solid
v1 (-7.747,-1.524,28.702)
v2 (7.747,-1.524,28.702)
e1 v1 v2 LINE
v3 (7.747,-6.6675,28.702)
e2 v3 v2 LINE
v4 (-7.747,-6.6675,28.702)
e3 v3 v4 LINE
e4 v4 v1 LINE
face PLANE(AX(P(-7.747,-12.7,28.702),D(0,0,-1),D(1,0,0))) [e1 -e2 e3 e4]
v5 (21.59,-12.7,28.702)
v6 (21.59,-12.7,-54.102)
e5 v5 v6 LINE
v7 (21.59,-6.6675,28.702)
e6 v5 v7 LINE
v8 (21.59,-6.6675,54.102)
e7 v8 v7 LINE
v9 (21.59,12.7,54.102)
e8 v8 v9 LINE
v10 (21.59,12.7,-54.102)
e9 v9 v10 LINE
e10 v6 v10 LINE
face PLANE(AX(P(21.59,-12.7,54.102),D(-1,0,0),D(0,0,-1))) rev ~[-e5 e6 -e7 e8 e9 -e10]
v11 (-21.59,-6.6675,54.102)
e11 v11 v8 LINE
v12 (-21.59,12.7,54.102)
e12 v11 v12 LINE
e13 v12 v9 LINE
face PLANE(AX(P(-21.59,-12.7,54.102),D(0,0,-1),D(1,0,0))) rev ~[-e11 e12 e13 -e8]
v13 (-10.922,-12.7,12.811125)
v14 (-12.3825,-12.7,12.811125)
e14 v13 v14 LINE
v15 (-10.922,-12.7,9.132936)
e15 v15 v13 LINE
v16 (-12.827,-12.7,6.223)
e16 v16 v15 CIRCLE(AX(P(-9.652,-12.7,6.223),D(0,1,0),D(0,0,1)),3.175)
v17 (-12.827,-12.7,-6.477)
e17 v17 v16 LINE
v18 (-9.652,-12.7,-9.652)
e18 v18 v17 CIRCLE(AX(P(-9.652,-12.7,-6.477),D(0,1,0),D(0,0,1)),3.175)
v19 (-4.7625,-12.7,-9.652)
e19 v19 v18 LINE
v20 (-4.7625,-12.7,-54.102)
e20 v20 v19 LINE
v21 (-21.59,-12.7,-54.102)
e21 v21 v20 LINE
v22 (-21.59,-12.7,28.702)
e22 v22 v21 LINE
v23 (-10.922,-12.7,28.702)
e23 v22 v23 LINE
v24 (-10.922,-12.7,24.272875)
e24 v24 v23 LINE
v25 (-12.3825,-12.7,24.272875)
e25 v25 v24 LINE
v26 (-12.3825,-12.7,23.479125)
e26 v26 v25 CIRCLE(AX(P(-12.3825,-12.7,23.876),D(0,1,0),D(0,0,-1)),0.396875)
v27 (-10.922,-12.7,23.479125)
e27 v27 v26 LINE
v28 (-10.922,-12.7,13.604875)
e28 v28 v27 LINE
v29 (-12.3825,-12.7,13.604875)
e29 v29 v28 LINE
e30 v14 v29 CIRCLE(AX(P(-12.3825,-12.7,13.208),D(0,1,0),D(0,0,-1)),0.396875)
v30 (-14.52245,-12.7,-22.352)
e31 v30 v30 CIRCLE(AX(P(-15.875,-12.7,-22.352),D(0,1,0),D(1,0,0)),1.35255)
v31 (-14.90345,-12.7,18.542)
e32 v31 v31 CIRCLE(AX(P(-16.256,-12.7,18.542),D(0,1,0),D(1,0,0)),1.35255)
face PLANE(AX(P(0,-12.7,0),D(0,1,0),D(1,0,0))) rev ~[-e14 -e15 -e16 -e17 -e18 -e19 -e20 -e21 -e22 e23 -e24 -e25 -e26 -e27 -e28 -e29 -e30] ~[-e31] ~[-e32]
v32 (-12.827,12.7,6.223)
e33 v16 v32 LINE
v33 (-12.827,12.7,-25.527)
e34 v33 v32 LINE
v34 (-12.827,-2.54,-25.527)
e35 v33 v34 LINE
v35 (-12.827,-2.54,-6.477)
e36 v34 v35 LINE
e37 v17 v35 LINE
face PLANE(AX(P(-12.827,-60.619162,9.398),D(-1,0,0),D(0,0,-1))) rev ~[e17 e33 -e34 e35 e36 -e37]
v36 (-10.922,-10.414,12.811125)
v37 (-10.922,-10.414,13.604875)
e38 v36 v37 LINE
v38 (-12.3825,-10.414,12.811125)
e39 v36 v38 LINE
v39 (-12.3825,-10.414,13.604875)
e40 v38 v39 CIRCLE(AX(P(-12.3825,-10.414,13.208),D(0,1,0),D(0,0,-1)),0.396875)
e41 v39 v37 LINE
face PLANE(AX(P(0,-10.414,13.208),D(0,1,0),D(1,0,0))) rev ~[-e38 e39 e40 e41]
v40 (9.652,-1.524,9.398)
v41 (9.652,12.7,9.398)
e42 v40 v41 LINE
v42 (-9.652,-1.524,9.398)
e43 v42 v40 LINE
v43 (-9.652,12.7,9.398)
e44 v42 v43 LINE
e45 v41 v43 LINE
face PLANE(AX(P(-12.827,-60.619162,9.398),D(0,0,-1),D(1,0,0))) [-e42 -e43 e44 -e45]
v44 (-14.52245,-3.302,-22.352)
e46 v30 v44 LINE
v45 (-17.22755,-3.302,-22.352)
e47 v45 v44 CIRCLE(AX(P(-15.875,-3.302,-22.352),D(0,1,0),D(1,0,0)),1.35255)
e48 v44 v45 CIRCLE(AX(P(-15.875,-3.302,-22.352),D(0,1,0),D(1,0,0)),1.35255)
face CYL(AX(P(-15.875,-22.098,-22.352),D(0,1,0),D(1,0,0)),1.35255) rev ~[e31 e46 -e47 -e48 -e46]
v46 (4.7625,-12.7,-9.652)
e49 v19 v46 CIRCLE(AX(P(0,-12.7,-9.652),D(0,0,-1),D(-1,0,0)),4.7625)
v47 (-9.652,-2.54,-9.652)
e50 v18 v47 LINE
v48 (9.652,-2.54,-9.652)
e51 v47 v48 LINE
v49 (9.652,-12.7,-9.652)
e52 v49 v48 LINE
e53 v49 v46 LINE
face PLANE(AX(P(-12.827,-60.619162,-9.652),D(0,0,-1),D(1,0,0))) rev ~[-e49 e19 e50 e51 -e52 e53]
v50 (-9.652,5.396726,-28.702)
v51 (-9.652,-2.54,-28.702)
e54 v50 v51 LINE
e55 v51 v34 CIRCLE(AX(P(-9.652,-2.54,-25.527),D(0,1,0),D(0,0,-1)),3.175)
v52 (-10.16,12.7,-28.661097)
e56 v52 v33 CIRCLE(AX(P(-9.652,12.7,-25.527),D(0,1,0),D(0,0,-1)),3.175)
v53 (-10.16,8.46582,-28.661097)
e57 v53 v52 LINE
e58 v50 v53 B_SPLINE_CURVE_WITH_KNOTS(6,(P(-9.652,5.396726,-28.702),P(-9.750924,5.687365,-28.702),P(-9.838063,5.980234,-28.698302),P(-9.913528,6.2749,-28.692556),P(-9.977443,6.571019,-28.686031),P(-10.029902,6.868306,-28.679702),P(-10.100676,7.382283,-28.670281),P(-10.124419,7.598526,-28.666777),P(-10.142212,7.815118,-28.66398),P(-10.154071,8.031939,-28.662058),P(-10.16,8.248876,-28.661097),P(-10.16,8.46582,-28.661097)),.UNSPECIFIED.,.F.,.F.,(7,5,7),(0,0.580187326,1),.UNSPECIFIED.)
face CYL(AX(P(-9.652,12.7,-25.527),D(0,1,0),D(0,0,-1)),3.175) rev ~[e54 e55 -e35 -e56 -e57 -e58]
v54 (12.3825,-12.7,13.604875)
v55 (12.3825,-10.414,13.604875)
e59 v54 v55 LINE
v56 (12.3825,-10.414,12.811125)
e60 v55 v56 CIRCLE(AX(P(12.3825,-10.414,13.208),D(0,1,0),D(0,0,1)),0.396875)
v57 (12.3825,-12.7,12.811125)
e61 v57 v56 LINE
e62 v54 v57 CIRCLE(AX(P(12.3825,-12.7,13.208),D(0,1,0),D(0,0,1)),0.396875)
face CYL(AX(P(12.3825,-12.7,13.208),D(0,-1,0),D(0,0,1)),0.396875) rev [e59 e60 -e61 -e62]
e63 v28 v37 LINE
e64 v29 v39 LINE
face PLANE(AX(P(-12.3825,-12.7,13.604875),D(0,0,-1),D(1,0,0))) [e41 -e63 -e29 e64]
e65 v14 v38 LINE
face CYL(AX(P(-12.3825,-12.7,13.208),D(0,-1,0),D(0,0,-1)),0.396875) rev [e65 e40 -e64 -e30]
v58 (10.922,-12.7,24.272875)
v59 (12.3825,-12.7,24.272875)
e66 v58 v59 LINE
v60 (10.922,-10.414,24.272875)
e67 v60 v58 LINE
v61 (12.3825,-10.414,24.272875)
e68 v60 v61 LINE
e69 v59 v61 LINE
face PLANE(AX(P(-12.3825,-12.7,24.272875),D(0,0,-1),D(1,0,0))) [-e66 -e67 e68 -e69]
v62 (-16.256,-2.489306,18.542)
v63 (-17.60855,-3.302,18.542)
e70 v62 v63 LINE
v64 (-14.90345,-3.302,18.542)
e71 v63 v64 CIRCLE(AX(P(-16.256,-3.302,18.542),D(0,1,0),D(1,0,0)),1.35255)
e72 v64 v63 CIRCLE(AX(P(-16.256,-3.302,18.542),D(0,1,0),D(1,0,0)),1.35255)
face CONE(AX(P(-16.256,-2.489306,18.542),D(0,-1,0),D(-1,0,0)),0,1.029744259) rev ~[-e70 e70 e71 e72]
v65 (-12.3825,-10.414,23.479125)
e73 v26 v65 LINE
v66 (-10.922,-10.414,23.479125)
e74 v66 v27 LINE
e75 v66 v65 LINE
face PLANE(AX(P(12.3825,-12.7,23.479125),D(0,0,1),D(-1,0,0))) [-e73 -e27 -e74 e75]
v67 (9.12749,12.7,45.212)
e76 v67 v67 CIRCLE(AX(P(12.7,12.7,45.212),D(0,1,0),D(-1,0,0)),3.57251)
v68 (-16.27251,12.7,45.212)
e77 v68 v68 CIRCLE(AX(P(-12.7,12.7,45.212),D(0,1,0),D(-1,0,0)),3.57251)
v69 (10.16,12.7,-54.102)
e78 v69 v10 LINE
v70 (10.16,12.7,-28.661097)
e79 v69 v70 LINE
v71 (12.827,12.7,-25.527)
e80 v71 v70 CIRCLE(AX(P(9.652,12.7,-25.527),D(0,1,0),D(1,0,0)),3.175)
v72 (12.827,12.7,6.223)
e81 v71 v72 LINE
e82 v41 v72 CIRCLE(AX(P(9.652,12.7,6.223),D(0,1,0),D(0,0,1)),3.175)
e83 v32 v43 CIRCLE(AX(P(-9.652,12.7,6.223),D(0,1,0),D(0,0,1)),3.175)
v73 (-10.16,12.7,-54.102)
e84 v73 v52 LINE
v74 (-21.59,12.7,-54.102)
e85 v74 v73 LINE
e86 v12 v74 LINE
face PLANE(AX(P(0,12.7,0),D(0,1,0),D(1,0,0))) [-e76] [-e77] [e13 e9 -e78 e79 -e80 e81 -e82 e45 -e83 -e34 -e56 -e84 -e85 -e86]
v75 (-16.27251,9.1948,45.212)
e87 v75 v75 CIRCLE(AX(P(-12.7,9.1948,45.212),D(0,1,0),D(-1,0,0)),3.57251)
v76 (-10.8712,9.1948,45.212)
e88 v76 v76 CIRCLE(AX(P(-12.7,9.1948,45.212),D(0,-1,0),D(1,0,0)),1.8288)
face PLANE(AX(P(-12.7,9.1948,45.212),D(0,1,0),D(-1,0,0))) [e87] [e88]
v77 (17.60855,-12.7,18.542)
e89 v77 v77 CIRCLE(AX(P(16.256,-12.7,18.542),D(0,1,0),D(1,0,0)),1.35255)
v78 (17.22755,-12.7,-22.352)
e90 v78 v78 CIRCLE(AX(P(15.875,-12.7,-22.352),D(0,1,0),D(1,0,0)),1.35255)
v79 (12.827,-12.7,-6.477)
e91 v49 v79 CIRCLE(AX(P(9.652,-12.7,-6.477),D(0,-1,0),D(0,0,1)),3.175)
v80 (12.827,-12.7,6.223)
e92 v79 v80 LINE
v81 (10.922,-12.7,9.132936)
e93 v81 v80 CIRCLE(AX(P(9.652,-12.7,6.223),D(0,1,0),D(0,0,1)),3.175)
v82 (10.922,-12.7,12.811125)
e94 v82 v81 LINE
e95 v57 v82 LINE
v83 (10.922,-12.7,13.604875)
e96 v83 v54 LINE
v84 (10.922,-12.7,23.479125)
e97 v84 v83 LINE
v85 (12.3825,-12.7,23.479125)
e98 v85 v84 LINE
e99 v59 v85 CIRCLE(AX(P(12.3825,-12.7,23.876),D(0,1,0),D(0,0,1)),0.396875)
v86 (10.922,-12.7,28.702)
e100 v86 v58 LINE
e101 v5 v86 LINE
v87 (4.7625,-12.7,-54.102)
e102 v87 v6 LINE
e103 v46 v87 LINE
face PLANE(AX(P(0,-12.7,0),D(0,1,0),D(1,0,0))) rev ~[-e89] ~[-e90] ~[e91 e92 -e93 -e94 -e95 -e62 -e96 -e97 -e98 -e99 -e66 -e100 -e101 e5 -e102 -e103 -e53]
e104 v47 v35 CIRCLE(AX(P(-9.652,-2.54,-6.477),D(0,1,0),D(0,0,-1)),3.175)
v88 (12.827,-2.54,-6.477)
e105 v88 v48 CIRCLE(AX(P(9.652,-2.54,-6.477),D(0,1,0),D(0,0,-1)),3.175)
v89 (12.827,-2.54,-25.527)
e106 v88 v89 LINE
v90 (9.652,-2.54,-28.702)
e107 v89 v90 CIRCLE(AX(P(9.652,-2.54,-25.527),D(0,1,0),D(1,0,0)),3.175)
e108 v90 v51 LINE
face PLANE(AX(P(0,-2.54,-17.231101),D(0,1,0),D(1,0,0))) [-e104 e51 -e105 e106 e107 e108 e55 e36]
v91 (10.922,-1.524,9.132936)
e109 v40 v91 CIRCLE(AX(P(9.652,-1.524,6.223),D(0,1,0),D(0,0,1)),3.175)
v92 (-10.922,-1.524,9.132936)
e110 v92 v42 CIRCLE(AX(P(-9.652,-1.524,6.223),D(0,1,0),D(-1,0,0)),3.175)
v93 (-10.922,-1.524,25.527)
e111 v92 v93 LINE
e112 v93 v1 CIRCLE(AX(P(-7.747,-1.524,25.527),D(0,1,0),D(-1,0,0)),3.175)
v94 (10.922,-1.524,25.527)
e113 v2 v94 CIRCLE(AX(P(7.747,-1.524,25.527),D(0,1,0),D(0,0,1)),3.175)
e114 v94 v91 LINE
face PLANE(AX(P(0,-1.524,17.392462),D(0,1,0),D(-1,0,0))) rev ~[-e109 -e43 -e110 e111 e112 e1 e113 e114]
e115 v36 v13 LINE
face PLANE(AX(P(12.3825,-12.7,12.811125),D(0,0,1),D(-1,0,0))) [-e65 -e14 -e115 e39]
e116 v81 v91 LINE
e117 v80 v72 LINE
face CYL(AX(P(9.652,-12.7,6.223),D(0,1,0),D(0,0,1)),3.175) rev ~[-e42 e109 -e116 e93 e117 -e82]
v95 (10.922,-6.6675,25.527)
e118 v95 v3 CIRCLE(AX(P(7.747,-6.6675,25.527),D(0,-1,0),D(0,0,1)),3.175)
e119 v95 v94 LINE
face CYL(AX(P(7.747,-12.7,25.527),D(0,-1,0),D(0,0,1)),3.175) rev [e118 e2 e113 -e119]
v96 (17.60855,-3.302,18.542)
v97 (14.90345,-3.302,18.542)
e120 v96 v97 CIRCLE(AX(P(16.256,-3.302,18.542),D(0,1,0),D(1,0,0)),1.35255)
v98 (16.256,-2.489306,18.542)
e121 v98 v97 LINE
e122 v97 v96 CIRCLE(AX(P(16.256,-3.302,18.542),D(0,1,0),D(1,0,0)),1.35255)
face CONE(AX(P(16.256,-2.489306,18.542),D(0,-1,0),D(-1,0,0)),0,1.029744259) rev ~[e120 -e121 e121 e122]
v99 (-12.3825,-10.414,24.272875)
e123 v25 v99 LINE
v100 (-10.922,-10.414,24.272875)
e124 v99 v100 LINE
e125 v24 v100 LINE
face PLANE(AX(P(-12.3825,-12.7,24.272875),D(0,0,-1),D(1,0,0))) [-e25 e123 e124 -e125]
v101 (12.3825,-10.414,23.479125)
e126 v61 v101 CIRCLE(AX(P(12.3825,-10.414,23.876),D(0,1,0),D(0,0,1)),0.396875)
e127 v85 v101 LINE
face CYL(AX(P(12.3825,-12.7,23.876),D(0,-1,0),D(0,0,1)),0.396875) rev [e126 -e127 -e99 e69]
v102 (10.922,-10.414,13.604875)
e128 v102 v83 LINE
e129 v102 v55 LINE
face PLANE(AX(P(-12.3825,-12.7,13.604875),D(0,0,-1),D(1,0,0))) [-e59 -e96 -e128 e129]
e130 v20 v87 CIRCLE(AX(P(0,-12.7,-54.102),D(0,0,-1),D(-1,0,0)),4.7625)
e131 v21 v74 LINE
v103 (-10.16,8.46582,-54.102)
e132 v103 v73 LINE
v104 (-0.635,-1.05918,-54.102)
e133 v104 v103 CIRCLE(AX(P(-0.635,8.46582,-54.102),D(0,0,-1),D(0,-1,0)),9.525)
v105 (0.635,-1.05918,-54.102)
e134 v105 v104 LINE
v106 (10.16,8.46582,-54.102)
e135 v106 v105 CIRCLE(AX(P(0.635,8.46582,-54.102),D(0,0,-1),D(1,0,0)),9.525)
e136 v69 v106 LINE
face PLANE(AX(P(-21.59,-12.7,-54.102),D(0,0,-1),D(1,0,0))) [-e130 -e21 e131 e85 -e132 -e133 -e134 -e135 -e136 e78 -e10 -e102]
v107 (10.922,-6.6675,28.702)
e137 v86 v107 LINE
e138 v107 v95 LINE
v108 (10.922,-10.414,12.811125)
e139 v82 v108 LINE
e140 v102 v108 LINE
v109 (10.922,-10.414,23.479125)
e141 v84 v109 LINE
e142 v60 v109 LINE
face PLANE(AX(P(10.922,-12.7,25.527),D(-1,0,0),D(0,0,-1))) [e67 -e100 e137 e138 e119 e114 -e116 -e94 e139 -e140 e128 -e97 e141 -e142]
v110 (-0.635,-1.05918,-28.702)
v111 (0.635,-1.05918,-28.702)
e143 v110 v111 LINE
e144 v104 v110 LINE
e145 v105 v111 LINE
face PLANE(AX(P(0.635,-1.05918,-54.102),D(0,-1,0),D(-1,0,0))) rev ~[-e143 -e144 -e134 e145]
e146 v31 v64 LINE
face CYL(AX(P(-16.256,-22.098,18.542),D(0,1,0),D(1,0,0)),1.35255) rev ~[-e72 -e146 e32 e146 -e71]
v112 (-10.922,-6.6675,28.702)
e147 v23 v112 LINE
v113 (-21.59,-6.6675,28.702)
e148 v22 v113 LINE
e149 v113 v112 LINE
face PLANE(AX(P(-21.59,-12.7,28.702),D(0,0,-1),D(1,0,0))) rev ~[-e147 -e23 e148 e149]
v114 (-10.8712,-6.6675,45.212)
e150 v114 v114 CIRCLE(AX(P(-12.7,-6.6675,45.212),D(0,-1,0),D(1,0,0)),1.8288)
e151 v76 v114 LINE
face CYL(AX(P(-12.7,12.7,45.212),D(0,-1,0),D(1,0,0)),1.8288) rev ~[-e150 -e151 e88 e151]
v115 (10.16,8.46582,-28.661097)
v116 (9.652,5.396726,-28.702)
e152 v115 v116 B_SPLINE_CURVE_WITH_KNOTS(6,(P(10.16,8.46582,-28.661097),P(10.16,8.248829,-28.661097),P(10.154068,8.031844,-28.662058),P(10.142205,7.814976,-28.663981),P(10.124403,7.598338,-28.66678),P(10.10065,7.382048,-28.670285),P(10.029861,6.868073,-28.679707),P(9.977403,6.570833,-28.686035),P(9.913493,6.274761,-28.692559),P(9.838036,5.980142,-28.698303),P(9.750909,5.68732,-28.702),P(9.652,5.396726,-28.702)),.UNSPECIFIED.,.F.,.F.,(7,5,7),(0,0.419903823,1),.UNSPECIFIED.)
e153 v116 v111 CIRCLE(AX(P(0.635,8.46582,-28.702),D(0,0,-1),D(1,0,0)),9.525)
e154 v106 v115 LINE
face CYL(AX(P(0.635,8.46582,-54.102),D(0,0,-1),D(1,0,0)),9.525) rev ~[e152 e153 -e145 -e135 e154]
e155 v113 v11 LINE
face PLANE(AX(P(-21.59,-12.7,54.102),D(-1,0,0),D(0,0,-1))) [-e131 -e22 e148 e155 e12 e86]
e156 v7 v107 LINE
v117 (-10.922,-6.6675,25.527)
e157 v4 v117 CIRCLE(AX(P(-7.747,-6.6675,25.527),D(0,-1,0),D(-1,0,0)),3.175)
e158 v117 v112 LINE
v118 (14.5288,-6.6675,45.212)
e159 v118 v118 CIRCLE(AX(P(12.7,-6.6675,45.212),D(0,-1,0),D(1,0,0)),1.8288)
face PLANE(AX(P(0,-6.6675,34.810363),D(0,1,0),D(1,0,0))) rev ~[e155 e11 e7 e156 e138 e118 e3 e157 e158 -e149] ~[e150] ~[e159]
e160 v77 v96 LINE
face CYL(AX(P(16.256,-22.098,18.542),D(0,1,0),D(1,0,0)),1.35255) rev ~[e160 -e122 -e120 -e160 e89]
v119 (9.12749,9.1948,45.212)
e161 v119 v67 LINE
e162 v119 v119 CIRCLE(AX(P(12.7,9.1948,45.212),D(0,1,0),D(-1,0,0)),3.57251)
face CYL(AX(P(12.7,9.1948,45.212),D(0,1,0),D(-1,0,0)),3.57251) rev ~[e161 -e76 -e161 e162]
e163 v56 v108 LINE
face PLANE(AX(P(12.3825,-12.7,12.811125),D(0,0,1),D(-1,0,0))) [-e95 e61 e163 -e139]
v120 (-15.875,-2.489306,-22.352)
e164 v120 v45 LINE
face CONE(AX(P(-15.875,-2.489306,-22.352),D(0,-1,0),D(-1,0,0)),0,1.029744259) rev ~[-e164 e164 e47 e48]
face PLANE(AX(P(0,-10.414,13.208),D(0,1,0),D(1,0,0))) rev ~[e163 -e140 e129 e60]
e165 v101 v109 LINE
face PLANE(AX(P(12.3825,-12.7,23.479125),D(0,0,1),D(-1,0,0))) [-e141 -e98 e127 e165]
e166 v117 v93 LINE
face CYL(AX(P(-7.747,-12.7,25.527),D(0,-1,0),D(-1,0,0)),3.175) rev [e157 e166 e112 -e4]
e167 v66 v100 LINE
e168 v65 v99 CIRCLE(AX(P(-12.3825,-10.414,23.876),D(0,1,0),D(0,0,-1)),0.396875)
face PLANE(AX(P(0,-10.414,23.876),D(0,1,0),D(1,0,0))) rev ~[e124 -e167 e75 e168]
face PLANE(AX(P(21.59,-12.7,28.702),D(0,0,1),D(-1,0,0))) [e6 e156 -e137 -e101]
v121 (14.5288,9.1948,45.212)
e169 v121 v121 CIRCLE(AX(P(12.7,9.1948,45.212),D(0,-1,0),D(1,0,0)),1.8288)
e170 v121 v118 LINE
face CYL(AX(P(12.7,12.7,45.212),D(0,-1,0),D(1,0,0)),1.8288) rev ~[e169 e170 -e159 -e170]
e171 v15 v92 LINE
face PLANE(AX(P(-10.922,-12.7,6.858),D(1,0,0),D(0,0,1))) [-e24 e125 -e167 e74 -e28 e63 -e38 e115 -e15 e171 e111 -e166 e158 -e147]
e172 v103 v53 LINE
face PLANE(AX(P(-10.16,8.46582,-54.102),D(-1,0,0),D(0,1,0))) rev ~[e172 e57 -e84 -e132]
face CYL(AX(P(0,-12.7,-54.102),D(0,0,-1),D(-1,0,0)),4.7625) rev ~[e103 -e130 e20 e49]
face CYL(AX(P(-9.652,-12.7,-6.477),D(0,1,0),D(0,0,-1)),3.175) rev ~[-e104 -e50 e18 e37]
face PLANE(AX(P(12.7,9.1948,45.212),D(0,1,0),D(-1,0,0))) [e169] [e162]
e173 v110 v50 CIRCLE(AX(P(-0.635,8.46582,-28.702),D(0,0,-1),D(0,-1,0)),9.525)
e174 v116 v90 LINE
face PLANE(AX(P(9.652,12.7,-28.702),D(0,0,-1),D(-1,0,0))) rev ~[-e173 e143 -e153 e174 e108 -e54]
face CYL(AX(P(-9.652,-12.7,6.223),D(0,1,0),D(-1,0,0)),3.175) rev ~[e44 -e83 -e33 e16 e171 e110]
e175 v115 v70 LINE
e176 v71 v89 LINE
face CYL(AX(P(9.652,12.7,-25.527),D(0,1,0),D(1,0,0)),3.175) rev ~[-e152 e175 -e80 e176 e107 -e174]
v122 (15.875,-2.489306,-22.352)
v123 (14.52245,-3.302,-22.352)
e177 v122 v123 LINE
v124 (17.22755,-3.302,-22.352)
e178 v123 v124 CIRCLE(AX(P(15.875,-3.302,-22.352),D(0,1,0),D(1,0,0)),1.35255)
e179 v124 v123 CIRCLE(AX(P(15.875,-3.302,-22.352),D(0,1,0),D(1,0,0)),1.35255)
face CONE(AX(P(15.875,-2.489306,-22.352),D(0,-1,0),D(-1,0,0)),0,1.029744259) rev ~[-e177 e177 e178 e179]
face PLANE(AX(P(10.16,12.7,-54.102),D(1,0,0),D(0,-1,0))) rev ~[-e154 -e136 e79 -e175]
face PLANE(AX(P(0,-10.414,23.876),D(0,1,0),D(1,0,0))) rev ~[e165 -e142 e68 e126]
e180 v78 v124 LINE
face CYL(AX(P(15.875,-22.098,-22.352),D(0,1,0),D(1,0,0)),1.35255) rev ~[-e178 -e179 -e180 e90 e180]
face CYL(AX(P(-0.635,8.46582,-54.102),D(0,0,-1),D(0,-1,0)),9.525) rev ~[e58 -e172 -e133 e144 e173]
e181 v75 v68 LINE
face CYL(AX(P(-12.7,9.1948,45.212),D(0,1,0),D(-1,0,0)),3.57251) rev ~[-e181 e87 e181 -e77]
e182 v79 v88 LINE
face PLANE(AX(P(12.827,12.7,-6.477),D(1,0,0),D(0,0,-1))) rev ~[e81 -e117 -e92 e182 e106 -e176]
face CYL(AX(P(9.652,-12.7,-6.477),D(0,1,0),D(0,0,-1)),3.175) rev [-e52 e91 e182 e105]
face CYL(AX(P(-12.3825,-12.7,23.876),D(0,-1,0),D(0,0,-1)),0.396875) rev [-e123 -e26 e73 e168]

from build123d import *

# Parameters (mm, degrees)
BASE_DEPTH                   = 12.7
BASE_DEPTH_BACK              = 12.7
SKETCH1_W                    = 43.18
SKETCH1_H                    = 108.204
ACTUATORPLANECUT_DEPTH       = 6.0325
CENTERSLOT_DEPTH             = 60.619162222
CENTERSLOT_DEPTH_BACK        = 60.619162222
SKETCH5_W                    = 25.654
SKETCH5_H                    = 19.05
SHAFTGUIDE_REACH             = 113.065
SKETCH2_R                    = 4.7625
CENTERSLOTFILLET_R           = 3.175
GEARBOXPIT_DEPTH             = 11.176
FRONTCUTAWAY_DEPTH           = 15.24
GEARBOXSLOTSH_DEPTH          = 2.286
TOGGLEASSEMHOLES_D           = 2.7051
TOGGLEASSEMHOLES_DEPTH       = 9.398
TOGGLEASSEMHOLES_TIP         = 0.81269403
GEARBOXMOUNTINGHOLES_D       = 2.7051
GEARBOXMOUNTINGHOLES_DEPTH   = 9.398
GEARBOXMOUNTINGHOLES_TIP     = 0.81269403
CAPMOUNTINGHOLES_D           = 3.6576
CAPMOUNTINGHOLES_CBORE_D     = 7.14502
CAPMOUNTINGHOLES_CBORE_DEPTH = 3.5052
ROLLMOTORSLOT_REACH          = 113.065


with BuildPart() as part:
    # Sketch1 → Base (new, two sides: drawn at the far end of the back side and taken through both)
    with BuildSketch(Plane(origin=(0, 0, 0), x_dir=(1, 0, 0), z_dir=(0, 1, 0)).offset(-BASE_DEPTH_BACK)):
        Rectangle(SKETCH1_W, SKETCH1_H)
    extrude(amount=BASE_DEPTH + BASE_DEPTH_BACK)

    # Sketch3 → ActuatorPlaneCut (cut)
    with BuildSketch(Plane(origin=(0, -12.7, 0), x_dir=(-1, 0, 0), z_dir=(0, -1, 0))):
        Polygon((10.922, -28.702), (16.256, -28.702), (21.59, -28.702), (21.59, -54.102), (-21.59, -54.102), (-21.59, -28.702), (-10.922, -28.702), (-10.922, -11.176), (10.922, -11.176), align=None)
    extrude(amount=-ACTUATORPLANECUT_DEPTH, mode=Mode.SUBTRACT)

    # Sketch5 → CenterSlot (cut, two sides: drawn at the far end of the back side and taken through both)
    with BuildSketch(Plane(origin=(0, 0, 0), x_dir=(1, 0, 0), z_dir=(0, 1, 0)).offset(-CENTERSLOT_DEPTH_BACK)):
        with Locations((0, 0.127)):
            Rectangle(SKETCH5_W, SKETCH5_H)
    extrude(amount=CENTERSLOT_DEPTH + CENTERSLOT_DEPTH_BACK, mode=Mode.SUBTRACT)

    # Sketch2 → ShaftGuide (cut, up to next)
    with BuildSketch(Plane(origin=(0, 0, -54.102), x_dir=(-1, 0, 0), z_dir=(0, 0, -1)), mode=Mode.PRIVATE) as shaftguide_sk1:
        with Locations((0, -12.7)):
            Circle(SKETCH2_R)
    shaftguide_tool1 = extrude(shaftguide_sk1.sketch, amount=-SHAFTGUIDE_REACH, mode=Mode.PRIVATE) & part.part
    add(shaftguide_tool1.solids().sort_by_distance((0, -12.7, -54.102))[0], mode=Mode.SUBTRACT)

    # CenterSlotFillet
    centerslotfillet_edges = [part.edges().sort_by_distance(p)[0] for p in [
        (-12.827, 0, -9.652),
        (-12.827, 0, 9.398),
        (12.827, 0, 9.398),
        (12.827, 0, -9.652),
    ]]
    fillet(centerslotfillet_edges, radius=CENTERSLOTFILLET_R)

    # Sketch40 → GearBoxPit (cut)
    with BuildSketch(Plane.XZ.offset(12.7)):
        with BuildLine():
            Line((10.922, 6.858), (-10.922, 6.858))
            Line((-10.922, 6.858), (-10.922, 25.527))
            ThreePointArc((-10.922, 25.527), (-9.99206403, 27.77206403), (-7.747, 28.702))
            Line((-7.747, 28.702), (7.747, 28.702))
            ThreePointArc((7.747, 28.702), (9.99206403, 27.77206403), (10.922, 25.527))
            Line((10.922, 25.527), (10.922, 6.858))
        make_face()
    extrude(amount=-GEARBOXPIT_DEPTH, mode=Mode.SUBTRACT)

    # Sketch60 → FrontCutaway (cut)
    with BuildSketch(Plane(origin=(0, 12.7, 0), x_dir=(1, 0, 0), z_dir=(0, 1, 0))):
        with BuildLine():
            Line((-12.827, 6.477), (12.827, 6.477))
            Line((12.827, 6.477), (12.827, 25.527))
            ThreePointArc((12.827, 25.527), (11.89706403, 27.77206403), (9.652, 28.702))
            Line((9.652, 28.702), (-9.652, 28.702))
            ThreePointArc((-9.652, 28.702), (-11.89706403, 27.77206403), (-12.827, 25.527))
            Line((-12.827, 25.527), (-12.827, 6.477))
        make_face()
    extrude(amount=-FRONTCUTAWAY_DEPTH, mode=Mode.SUBTRACT)

    # Sketch67 → GearBoxSlotsH (cut)
    with BuildSketch(Plane(origin=(0, -12.7, 0), x_dir=(-1, 0, 0), z_dir=(0, -1, 0))):
        with BuildLine():
            Line((-12.3825, -12.811125), (12.3825, -12.811125))
            ThreePointArc((12.3825, -12.811125), (12.779375, -13.208), (12.3825, -13.604875))
            Line((12.3825, -13.604875), (-12.3825, -13.604875))
            ThreePointArc((-12.3825, -13.604875), (-12.779375, -13.208), (-12.3825, -12.811125))
        make_face()
        with BuildLine():
            Line((-12.3825, -23.479125), (12.3825, -23.479125))
            ThreePointArc((12.3825, -23.479125), (12.779375, -23.876), (12.3825, -24.272875))
            Line((12.3825, -24.272875), (-12.3825, -24.272875))
            ThreePointArc((-12.3825, -24.272875), (-12.779375, -23.876), (-12.3825, -23.479125))
        make_face()
    extrude(amount=-GEARBOXSLOTSH_DEPTH, mode=Mode.SUBTRACT)

    # ToggleAssemHoles
    with Locations(Plane(origin=(0, -12.7, 0), x_dir=(-1, 0, 0), z_dir=(0, -1, 0))):
        with Locations((15.875, 22.352), (-15.875, 22.352)):
            Hole(TOGGLEASSEMHOLES_D / 2, depth=TOGGLEASSEMHOLES_DEPTH)
            with Locations((0, 0, -(TOGGLEASSEMHOLES_DEPTH + TOGGLEASSEMHOLES_TIP / 2))):  # 118° drill point
                Cone(0, TOGGLEASSEMHOLES_D / 2, TOGGLEASSEMHOLES_TIP, mode=Mode.SUBTRACT)

    # GearBoxMountingHoles
    with Locations(Plane(origin=(0, -12.7, 0), x_dir=(-1, 0, 0), z_dir=(0, -1, 0))):
        with Locations((-16.256, -18.542), (16.256, -18.542)):
            Hole(GEARBOXMOUNTINGHOLES_D / 2, depth=GEARBOXMOUNTINGHOLES_DEPTH)
            with Locations((0, 0, -(GEARBOXMOUNTINGHOLES_DEPTH + GEARBOXMOUNTINGHOLES_TIP / 2))):  # 118° drill point
                Cone(0, GEARBOXMOUNTINGHOLES_D / 2, GEARBOXMOUNTINGHOLES_TIP, mode=Mode.SUBTRACT)

    # CapMountingHoles (through all)
    with Locations(Plane(origin=(-0.837932951, 12.7, 8.633720573), x_dir=(-1, 0, 0), z_dir=(0, 1, 0))):
        with Locations((-13.537932951, 36.578279427), (11.862067049, 36.578279427)):
            CounterBoreHole(CAPMOUNTINGHOLES_D / 2, CAPMOUNTINGHOLES_CBORE_D / 2, CAPMOUNTINGHOLES_CBORE_DEPTH)

    # Sketch81 → RollMotorSlot (cut, up to next)
    with BuildSketch(Plane(origin=(0, 0, -54.102), x_dir=(-1, 0, 0), z_dir=(0, 0, -1)), mode=Mode.PRIVATE) as rollmotorslot_sk1:
        with BuildLine():
            Line((10.16, 12.7), (-10.16, 12.7))
            Line((-10.16, 12.7), (-10.16, 8.46582))
            ThreePointArc((-10.16, 8.46582), (-7.370192091, 1.730627909), (-0.635, -1.05918))
            Line((-0.635, -1.05918), (0.635, -1.05918))
            ThreePointArc((0.635, -1.05918), (7.370192091, 1.730627909), (10.16, 8.46582))
            Line((10.16, 8.46582), (10.16, 12.7))
        make_face()
    rollmotorslot_tool1 = extrude(rollmotorslot_sk1.sketch, amount=-ROLLMOTORSLOT_REACH, mode=Mode.PRIVATE) & part.part
    add(rollmotorslot_tool1.solids().sort_by_distance((0, 6.589347, -54.102))[0], mode=Mode.SUBTRACT)


solid = part.part
